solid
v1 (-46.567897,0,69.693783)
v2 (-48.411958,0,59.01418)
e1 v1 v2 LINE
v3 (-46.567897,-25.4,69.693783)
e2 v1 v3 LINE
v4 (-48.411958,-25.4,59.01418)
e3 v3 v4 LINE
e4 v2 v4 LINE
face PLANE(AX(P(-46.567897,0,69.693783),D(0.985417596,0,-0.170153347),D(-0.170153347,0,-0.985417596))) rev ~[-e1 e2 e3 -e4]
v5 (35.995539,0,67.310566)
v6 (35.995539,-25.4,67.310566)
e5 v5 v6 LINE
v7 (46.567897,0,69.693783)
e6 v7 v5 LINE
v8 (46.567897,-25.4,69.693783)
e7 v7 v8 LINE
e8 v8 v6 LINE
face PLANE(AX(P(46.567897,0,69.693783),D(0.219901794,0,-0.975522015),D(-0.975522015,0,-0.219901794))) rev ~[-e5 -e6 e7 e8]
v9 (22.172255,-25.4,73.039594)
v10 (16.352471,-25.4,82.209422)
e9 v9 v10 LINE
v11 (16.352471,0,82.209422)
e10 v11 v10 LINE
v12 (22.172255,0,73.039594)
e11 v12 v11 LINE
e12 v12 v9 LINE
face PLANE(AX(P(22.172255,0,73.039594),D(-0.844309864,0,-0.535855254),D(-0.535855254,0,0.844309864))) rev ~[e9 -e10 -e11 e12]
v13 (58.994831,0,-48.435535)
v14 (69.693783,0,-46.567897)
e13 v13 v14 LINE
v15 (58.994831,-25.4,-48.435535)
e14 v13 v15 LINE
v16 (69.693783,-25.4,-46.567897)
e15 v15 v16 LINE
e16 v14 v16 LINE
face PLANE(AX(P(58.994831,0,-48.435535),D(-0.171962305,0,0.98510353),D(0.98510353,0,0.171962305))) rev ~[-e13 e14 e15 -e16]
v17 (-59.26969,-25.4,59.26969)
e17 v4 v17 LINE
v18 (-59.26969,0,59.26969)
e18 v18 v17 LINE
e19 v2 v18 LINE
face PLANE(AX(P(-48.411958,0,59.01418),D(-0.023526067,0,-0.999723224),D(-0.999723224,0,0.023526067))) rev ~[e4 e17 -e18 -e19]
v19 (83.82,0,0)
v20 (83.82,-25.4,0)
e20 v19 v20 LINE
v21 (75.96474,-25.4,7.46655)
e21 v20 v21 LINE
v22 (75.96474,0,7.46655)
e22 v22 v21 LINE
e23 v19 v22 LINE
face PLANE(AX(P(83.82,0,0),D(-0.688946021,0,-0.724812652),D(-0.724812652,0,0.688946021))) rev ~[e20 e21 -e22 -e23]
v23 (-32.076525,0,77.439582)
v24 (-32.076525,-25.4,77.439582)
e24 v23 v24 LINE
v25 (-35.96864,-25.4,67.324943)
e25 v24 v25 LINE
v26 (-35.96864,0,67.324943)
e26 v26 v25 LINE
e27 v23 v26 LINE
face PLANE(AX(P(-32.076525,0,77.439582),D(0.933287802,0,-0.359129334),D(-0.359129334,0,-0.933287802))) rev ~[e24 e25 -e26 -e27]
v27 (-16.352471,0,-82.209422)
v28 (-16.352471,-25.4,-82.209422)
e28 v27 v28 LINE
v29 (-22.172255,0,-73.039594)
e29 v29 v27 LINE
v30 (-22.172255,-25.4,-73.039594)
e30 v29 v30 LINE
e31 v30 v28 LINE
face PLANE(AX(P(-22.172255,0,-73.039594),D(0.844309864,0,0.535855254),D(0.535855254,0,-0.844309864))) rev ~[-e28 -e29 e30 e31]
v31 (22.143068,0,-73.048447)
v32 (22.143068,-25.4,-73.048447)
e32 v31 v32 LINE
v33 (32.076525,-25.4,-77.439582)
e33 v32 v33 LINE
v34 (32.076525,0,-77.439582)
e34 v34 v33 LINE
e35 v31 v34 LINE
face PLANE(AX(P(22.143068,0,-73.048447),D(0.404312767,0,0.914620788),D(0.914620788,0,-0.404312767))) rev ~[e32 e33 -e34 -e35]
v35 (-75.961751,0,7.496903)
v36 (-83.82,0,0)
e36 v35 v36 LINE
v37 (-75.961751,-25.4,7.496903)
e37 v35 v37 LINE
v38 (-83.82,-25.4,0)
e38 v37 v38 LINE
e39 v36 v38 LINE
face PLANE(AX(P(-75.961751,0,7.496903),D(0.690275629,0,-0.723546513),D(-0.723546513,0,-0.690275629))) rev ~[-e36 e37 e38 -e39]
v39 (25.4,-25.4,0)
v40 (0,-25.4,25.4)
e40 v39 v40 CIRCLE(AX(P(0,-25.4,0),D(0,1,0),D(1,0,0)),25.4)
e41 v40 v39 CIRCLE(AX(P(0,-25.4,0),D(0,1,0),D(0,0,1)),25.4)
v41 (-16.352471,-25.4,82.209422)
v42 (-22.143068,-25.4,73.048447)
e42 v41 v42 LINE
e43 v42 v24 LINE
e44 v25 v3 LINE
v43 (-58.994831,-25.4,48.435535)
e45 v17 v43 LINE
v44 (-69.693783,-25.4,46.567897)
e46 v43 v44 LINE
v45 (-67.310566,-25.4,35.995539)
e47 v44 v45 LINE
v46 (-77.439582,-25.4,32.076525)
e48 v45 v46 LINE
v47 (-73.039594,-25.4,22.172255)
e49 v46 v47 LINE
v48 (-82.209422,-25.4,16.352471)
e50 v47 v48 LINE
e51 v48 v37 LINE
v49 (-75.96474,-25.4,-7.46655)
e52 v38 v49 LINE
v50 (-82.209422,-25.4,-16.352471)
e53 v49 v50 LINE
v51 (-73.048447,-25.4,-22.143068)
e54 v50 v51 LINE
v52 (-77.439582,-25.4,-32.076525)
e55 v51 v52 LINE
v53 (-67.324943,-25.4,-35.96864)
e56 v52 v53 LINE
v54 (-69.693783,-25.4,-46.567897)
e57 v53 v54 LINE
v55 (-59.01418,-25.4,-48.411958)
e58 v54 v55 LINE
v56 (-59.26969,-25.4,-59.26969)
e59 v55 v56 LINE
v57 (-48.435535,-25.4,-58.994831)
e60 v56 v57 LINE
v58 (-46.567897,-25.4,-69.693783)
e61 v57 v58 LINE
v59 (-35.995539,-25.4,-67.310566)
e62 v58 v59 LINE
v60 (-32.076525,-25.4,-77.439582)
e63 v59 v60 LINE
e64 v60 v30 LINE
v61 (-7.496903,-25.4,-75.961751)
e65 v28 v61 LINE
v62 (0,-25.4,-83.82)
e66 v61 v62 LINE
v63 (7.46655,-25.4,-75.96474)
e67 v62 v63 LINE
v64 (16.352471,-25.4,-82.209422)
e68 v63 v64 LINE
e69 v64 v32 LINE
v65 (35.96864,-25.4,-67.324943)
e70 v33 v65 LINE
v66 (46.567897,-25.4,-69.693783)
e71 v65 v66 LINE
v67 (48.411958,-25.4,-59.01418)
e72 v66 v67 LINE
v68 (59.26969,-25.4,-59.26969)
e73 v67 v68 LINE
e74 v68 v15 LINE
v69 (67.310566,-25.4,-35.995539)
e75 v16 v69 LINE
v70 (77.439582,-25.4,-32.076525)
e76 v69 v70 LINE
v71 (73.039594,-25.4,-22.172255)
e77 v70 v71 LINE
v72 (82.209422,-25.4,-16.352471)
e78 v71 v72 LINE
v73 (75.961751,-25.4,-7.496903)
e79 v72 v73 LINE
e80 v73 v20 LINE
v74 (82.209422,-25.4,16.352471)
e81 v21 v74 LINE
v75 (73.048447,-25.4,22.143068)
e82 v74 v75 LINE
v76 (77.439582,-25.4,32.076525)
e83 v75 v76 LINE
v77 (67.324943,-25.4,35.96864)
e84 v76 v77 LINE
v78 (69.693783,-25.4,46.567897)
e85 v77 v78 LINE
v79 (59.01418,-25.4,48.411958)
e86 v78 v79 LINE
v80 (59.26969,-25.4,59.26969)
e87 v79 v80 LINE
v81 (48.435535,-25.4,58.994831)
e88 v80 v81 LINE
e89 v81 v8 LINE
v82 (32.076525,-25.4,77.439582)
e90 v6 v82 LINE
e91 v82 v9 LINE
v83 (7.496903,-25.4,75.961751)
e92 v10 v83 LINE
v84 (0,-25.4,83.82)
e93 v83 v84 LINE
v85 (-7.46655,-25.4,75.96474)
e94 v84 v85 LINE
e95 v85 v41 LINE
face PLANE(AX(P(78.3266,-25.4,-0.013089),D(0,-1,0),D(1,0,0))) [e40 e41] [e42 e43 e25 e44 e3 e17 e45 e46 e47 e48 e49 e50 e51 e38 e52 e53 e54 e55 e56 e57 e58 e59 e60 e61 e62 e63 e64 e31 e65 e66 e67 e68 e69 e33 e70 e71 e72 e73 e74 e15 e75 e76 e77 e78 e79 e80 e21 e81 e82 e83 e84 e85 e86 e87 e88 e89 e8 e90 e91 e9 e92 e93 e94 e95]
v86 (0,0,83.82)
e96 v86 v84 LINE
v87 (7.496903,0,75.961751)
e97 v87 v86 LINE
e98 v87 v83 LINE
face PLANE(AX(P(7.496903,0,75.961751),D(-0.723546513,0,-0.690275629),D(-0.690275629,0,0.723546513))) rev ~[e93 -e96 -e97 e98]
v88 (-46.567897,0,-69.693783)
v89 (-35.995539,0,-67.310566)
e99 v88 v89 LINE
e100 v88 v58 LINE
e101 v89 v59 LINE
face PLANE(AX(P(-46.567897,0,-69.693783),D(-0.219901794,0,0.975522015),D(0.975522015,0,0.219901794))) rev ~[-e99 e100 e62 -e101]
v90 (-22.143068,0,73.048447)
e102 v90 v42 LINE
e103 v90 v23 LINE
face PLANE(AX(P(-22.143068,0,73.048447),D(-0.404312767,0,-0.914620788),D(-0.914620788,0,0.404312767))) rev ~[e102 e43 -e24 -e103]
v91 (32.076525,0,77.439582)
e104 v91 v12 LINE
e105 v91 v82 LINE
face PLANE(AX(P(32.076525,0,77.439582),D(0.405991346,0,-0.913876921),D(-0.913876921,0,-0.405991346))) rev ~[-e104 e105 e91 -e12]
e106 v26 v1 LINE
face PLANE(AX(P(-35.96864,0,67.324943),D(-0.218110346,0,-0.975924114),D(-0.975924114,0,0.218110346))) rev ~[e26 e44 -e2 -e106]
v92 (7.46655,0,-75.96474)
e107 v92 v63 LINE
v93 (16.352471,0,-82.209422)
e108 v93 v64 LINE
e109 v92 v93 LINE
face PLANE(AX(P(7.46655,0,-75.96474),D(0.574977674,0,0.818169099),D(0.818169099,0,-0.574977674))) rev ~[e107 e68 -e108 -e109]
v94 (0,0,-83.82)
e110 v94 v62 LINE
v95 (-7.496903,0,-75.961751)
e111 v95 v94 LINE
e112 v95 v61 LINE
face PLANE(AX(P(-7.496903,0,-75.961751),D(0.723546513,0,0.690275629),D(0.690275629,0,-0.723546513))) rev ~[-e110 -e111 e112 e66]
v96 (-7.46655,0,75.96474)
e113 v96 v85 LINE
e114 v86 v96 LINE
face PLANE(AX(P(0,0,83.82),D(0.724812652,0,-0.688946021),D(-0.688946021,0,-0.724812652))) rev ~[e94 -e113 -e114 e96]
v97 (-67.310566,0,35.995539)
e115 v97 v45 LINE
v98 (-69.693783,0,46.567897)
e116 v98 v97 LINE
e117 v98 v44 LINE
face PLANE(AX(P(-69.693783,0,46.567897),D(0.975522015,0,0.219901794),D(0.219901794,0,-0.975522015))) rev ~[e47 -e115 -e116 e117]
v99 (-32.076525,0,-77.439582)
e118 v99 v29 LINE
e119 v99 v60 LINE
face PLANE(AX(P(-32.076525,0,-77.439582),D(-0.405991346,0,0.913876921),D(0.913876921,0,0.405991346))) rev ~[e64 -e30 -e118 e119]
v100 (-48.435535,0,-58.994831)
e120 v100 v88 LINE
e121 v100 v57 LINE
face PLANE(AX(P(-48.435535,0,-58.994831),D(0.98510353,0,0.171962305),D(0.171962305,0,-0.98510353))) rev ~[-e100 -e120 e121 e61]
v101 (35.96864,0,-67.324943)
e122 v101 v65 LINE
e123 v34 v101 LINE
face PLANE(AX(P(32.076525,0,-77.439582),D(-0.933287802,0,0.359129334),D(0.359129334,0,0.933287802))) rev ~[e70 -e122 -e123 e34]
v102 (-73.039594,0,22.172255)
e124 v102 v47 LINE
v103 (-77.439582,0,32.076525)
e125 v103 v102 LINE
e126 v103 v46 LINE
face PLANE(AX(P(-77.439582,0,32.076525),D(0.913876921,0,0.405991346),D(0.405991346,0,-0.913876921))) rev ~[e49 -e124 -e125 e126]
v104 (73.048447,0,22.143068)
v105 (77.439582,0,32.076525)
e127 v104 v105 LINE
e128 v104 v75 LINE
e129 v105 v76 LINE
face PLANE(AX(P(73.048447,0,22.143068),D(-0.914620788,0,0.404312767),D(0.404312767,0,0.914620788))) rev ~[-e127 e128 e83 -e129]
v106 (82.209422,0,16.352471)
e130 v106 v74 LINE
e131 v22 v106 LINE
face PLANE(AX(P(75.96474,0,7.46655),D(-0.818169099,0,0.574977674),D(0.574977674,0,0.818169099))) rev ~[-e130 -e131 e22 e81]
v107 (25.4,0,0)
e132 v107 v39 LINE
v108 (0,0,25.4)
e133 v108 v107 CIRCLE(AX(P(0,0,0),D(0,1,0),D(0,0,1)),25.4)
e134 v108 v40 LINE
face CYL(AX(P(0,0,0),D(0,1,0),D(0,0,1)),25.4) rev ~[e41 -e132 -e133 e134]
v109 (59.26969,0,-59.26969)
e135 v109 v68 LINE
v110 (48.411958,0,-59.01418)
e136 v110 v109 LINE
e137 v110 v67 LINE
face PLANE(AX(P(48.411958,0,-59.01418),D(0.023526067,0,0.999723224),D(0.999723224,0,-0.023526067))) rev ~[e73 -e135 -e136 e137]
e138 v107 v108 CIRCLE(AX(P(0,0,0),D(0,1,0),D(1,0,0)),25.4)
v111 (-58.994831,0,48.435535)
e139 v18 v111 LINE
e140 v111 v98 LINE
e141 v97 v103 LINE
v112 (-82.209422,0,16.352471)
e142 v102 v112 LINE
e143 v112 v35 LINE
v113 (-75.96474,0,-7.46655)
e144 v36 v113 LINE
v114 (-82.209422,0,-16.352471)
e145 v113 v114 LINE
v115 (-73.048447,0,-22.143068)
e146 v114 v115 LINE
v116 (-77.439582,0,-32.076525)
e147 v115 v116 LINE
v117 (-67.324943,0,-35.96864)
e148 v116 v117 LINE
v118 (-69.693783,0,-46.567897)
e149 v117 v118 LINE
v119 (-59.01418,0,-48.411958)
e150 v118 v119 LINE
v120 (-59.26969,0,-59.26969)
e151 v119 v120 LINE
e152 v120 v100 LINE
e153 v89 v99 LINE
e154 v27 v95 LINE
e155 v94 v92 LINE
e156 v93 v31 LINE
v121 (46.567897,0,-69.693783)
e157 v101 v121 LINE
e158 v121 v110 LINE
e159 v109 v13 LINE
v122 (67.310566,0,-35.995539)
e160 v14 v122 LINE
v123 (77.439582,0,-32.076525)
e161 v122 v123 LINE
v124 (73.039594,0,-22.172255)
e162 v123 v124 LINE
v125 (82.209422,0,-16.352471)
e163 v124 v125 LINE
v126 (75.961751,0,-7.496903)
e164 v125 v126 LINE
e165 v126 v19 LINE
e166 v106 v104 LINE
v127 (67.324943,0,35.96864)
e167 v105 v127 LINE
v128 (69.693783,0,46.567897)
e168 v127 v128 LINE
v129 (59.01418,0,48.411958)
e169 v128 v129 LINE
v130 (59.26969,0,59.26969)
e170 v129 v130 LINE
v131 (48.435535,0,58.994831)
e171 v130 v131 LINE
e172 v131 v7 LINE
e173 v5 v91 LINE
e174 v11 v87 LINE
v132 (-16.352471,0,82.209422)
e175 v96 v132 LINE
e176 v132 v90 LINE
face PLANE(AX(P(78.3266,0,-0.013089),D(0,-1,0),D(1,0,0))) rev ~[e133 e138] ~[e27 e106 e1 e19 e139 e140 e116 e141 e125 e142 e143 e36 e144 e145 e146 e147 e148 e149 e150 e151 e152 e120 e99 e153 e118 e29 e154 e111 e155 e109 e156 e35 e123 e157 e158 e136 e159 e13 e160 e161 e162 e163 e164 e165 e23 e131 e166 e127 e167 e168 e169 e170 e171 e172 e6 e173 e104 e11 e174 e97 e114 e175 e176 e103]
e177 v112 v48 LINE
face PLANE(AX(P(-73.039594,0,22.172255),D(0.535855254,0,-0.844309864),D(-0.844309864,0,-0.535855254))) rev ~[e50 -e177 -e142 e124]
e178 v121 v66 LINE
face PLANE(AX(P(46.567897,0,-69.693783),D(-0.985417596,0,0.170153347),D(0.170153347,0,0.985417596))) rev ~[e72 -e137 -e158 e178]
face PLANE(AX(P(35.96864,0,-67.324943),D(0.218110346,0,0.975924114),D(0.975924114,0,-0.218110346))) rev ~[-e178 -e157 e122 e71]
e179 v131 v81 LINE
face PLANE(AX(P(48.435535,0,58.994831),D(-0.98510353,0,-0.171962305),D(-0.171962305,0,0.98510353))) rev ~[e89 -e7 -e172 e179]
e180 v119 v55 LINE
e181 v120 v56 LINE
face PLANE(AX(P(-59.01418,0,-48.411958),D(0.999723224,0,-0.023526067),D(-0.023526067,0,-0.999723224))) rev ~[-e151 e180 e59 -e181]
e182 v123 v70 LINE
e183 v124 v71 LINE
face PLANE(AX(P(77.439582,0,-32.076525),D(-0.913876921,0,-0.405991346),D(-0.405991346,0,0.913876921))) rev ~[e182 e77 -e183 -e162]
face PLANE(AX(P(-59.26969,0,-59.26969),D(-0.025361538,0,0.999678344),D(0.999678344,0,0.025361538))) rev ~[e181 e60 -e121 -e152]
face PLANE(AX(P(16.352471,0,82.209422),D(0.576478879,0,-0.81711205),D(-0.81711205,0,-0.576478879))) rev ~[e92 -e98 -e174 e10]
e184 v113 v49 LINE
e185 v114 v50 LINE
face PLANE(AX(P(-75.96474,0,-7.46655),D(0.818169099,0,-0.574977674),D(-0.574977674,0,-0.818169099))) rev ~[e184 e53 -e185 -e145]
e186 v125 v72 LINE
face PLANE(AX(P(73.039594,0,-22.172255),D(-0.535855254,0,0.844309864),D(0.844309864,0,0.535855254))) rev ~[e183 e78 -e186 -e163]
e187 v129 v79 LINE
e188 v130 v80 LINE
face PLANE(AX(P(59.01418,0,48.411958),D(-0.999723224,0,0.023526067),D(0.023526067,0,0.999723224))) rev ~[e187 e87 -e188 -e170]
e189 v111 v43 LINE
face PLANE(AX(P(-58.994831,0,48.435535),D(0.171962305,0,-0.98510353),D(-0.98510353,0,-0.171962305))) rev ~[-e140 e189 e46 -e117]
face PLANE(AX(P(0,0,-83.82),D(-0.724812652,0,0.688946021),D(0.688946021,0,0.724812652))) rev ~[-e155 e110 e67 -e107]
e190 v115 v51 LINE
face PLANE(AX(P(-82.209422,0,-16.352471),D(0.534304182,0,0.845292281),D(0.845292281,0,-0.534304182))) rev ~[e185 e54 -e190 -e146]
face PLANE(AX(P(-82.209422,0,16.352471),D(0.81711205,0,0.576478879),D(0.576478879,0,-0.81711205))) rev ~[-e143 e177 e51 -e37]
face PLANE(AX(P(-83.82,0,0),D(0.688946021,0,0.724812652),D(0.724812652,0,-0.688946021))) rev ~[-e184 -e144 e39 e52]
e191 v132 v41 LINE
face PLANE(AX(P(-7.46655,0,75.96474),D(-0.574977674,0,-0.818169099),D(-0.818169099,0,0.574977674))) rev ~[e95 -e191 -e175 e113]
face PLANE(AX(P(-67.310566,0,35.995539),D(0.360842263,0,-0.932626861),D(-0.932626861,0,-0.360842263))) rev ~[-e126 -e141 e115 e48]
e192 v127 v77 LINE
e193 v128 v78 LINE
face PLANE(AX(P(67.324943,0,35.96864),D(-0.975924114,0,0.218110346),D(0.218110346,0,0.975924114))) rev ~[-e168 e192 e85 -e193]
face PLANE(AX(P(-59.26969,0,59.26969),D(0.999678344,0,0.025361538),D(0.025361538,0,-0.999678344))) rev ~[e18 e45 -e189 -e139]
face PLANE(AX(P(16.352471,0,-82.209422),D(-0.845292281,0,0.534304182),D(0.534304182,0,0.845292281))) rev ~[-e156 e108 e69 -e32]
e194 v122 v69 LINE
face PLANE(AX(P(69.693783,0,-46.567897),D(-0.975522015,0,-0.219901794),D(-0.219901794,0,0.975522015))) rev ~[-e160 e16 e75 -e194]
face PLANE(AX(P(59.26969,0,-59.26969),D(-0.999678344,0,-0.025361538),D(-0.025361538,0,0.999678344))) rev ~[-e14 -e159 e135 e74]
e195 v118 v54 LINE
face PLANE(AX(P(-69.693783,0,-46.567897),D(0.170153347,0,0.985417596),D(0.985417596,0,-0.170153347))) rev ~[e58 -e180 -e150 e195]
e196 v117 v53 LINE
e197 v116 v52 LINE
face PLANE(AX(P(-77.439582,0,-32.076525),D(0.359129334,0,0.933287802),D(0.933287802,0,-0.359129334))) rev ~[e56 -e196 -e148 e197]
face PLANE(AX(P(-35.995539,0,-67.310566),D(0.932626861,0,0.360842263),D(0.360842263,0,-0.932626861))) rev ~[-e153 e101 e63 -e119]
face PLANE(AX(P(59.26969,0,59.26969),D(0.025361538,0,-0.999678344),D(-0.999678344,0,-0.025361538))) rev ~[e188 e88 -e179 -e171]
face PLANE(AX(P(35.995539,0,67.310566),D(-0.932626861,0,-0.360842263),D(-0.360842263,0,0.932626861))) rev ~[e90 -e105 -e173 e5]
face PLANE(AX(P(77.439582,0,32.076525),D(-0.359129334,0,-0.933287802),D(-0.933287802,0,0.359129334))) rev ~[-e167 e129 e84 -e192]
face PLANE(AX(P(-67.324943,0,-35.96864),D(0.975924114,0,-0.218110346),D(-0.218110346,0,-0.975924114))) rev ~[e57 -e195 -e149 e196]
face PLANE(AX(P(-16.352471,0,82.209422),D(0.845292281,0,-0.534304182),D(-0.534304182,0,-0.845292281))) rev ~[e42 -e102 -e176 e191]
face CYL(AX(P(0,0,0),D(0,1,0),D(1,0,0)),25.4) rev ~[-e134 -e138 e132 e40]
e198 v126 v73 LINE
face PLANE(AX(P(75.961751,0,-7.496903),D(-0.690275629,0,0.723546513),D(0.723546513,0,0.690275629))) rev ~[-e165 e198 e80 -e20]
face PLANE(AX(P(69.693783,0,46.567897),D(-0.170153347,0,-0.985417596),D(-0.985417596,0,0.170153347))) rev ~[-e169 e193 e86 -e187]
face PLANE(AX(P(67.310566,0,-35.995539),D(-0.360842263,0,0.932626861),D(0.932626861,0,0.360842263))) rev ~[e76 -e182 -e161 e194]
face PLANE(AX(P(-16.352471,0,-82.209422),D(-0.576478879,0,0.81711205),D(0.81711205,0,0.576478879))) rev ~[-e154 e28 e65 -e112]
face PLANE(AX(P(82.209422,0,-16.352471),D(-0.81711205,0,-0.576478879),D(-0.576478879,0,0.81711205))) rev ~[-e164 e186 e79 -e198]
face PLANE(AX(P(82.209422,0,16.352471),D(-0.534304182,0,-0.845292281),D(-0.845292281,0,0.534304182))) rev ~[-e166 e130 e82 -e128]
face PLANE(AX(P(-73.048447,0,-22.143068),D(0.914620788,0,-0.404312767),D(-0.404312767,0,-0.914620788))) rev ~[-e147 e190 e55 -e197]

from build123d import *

# Parameters (mm, degrees)
F1_DEPTH = 25.4
F2_DEPTH = 25.4


with BuildPart() as f1:
    # F0 (on Front) → F1 (new body)
    with BuildSketch(Plane.XZ):
        with BuildLine():
            ThreePointArc((75.8463119216, -7.333278114), (76.1115266186, -3.6709012229), (76.2, 0))
            ThreePointArc((76.2, 0), (76.1122749967, 3.6553515317), (75.8493019732, 7.3022866401))
            ThreePointArc((75.8493019732, 7.3022866401), (75.8346004903, 7.4534132101), (75.8195978942, 7.6045101852))
            ThreePointArc((75.8195978942, 7.6045101852), (74.7388739127, 14.8506136664), (72.9672734521, 21.9594399966))
            ThreePointArc((72.9672734521, 21.9594399966), (72.9233711228, 22.1047945949), (72.87917924, 22.2500614226))
            ThreePointArc((72.87917924, 22.2500614226), (70.4055764051, 29.1460942677), (67.2811535328, 35.7727043889))
            ThreePointArc((67.2811535328, 35.7727043889), (67.209737499, 35.9067011198), (67.1380545986, 36.0405552776))
            ThreePointArc((67.1380545986, 36.0405552776), (63.3666320803, 42.3215068116), (59.0094566149, 48.2112438132))
            ThreePointArc((59.0094566149, 48.2112438132), (58.9132713548, 48.3287332575), (58.8168521705, 48.446030805))
            ThreePointArc((58.8168521705, 48.446030805), (53.892543621, 53.8705275829), (48.4700593721, 58.7970521749))
            ThreePointArc((48.4700593721, 58.7970521749), (48.3528012314, 58.8935192791), (48.2353510983, 58.9897525374))
            ThreePointArc((48.2353510983, 58.9897525374), (42.3473949336, 63.3493341902), (36.0679849301, 67.1233227953))
            ThreePointArc((36.0679849301, 67.1233227953), (35.9341600732, 67.1950603827), (35.8001925341, 67.2665311616))
            ThreePointArc((35.8001925341, 67.2665311616), (29.1748596076, 70.3936614112), (22.2798380543, 72.8700817639))
            ThreePointArc((22.2798380543, 72.8700817639), (22.1345892955, 72.9143329992), (21.9892526478, 72.9582947168))
            ThreePointArc((21.9892526478, 72.9582947168), (14.8811507884, 74.7327997014), (7.6354894968, 75.8164843563))
            ThreePointArc((7.6354894968, 75.8164843563), (7.4843986644, 75.8315486894), (7.333278114, 75.8463119216))
            ThreePointArc((7.333278114, 75.8463119216), (3.6709012229, 76.1115266186), (0, 76.2))
            ThreePointArc((0, 76.2), (-3.6553515317, 76.1122749967), (-7.3022866401, 75.8493019732))
            ThreePointArc((-7.3022866401, 75.8493019732), (-7.4534132101, 75.8346004903), (-7.6045101852, 75.8195978942))
            ThreePointArc((-7.6045101852, 75.8195978942), (-14.8506136664, 74.7388739127), (-21.9594399966, 72.9672734521))
            ThreePointArc((-21.9594399966, 72.9672734521), (-22.1047945949, 72.9233711228), (-22.2500614226, 72.87917924))
            ThreePointArc((-22.2500614226, 72.87917924), (-29.1460942677, 70.4055764051), (-35.7727043889, 67.2811535328))
            ThreePointArc((-35.7727043889, 67.2811535328), (-35.9067011198, 67.209737499), (-36.0405552776, 67.1380545986))
            ThreePointArc((-36.0405552776, 67.1380545986), (-42.3215068116, 63.3666320803), (-48.2112438132, 59.0094566149))
            ThreePointArc((-48.2112438132, 59.0094566149), (-48.3287332575, 58.9132713548), (-48.446030805, 58.8168521705))
            ThreePointArc((-48.446030805, 58.8168521705), (-53.8705275829, 53.892543621), (-58.7970521749, 48.4700593721))
            ThreePointArc((-58.7970521749, 48.4700593721), (-58.8935192791, 48.3528012314), (-58.9897525374, 48.2353510983))
            ThreePointArc((-58.9897525374, 48.2353510983), (-63.3493341902, 42.3473949336), (-67.1233227953, 36.0679849301))
            ThreePointArc((-67.1233227953, 36.0679849301), (-67.1950603827, 35.9341600732), (-67.2665311616, 35.8001925341))
            ThreePointArc((-67.2665311616, 35.8001925341), (-70.3936614112, 29.1748596076), (-72.8700817639, 22.2798380543))
            ThreePointArc((-72.8700817639, 22.2798380543), (-72.9143329992, 22.1345892955), (-72.9582947168, 21.9892526478))
            ThreePointArc((-72.9582947168, 21.9892526478), (-74.7327997014, 14.8811507884), (-75.8164843563, 7.6354894968))
            ThreePointArc((-75.8164843563, 7.6354894968), (-75.8315486894, 7.4843986644), (-75.8463119216, 7.333278114))
            ThreePointArc((-75.8463119216, 7.333278114), (-76.1999984098, 0.0155676898), (-75.8493019732, -7.3022866401))
            ThreePointArc((-75.8493019732, -7.3022866401), (-75.8346004903, -7.4534132101), (-75.8195978942, -7.6045101852))
            ThreePointArc((-75.8195978942, -7.6045101852), (-74.7388739127, -14.8506136664), (-72.9672734521, -21.9594399966))
            ThreePointArc((-72.9672734521, -21.9594399966), (-72.9233711228, -22.1047945949), (-72.87917924, -22.2500614226))
            ThreePointArc((-72.87917924, -22.2500614226), (-70.4055764051, -29.1460942677), (-67.2811535328, -35.7727043889))
            ThreePointArc((-67.2811535328, -35.7727043889), (-67.209737499, -35.9067011198), (-67.1380545986, -36.0405552776))
            ThreePointArc((-67.1380545986, -36.0405552776), (-63.3666320803, -42.3215068116), (-59.0094566149, -48.2112438132))
            ThreePointArc((-59.0094566149, -48.2112438132), (-58.9132713548, -48.3287332575), (-58.8168521705, -48.446030805))
            ThreePointArc((-58.8168521705, -48.446030805), (-53.892543621, -53.8705275829), (-48.4700593721, -58.7970521749))
            ThreePointArc((-48.4700593721, -58.7970521749), (-48.3528012314, -58.8935192791), (-48.2353510983, -58.9897525374))
            ThreePointArc((-48.2353510983, -58.9897525374), (-42.3473949336, -63.3493341902), (-36.0679849301, -67.1233227953))
            ThreePointArc((-36.0679849301, -67.1233227953), (-35.9341600732, -67.1950603827), (-35.8001925341, -67.2665311616))
            ThreePointArc((-35.8001925341, -67.2665311616), (-29.1748596076, -70.3936614112), (-22.2798380543, -72.8700817639))
            ThreePointArc((-22.2798380543, -72.8700817639), (-22.1345892955, -72.9143329992), (-21.9892526478, -72.9582947168))
            ThreePointArc((-21.9892526478, -72.9582947168), (-14.8811507884, -74.7327997014), (-7.6354894968, -75.8164843563))
            ThreePointArc((-7.6354894968, -75.8164843563), (-7.4843986644, -75.8315486894), (-7.333278114, -75.8463119216))
            ThreePointArc((-7.333278114, -75.8463119216), (-0.0155676898, -76.1999984098), (7.3022866401, -75.8493019732))
            ThreePointArc((7.3022866401, -75.8493019732), (7.4534132101, -75.8346004903), (7.6045101852, -75.8195978942))
            ThreePointArc((7.6045101852, -75.8195978942), (14.8506136664, -74.7388739127), (21.9594399966, -72.9672734521))
            ThreePointArc((21.9594399966, -72.9672734521), (22.1047945949, -72.9233711228), (22.2500614226, -72.87917924))
            ThreePointArc((22.2500614226, -72.87917924), (29.1460942677, -70.4055764051), (35.7727043889, -67.2811535328))
            ThreePointArc((35.7727043889, -67.2811535328), (35.9067011198, -67.209737499), (36.0405552776, -67.1380545986))
            ThreePointArc((36.0405552776, -67.1380545986), (42.3215068116, -63.3666320803), (48.2112438132, -59.0094566149))
            ThreePointArc((48.2112438132, -59.0094566149), (48.3287332575, -58.9132713548), (48.446030805, -58.8168521705))
            ThreePointArc((48.446030805, -58.8168521705), (53.8705275829, -53.892543621), (58.7970521749, -48.4700593721))
            ThreePointArc((58.7970521749, -48.4700593721), (58.8935192791, -48.3528012314), (58.9897525374, -48.2353510983))
            ThreePointArc((58.9897525374, -48.2353510983), (63.3493341902, -42.3473949336), (67.1233227953, -36.0679849301))
            ThreePointArc((67.1233227953, -36.0679849301), (67.1950603827, -35.9341600732), (67.2665311616, -35.8001925341))
            ThreePointArc((67.2665311616, -35.8001925341), (70.3936614112, -29.1748596076), (72.8700817639, -22.2798380543))
            ThreePointArc((72.8700817639, -22.2798380543), (72.9143329992, -22.1345892955), (72.9582947168, -21.9892526478))
            ThreePointArc((72.9582947168, -21.9892526478), (74.7327997014, -14.8811507884), (75.8164843563, -7.6354894968))
            ThreePointArc((75.8164843563, -7.6354894968), (75.8315486894, -7.4843986644), (75.8463119216, -7.333278114))
        make_face()
        with BuildLine():
            ThreePointArc((25.4, 0), (-17.9605122421, -17.9605122421), (0, 25.4))
            ThreePointArc((0, 25.4), (17.9605122421, 17.9605122421), (25.4, 0))
        make_face(mode=Mode.SUBTRACT)
    extrude(amount=F1_DEPTH)

    # F0 (on Front) → F2 (join)
    with BuildSketch(Plane.XZ):
        with BuildLine():
            ThreePointArc((75.8493019732, 7.3022866401), (76.1122749967, 3.6553515317), (76.2, 0))
            ThreePointArc((76.2, 0), (76.1115266186, -3.6709012229), (75.8463119216, -7.333278114))
            Line((75.8463119216, -7.333278114), (75.9617505843, -7.4969030545))
            Line((75.9617505843, -7.4969030545), (83.82, 0))
            Line((83.82, 0), (75.9647400778, 7.4665502179))
            Line((75.9647400778, 7.4665502179), (75.8493019732, 7.3022866401))
        make_face()
        with BuildLine():
            ThreePointArc((75.8195978942, 7.6045101852), (75.8346004903, 7.4534132101), (75.8493019732, 7.3022866401))
            Line((75.8493019732, 7.3022866401), (75.9647400778, 7.4665502179))
            Line((75.9647400778, 7.4665502179), (75.8195978942, 7.6045101852))
        make_face()
        with BuildLine():
            Line((75.9617505843, -7.4969030545), (75.8463119216, -7.333278114))
            ThreePointArc((75.8463119216, -7.333278114), (75.8315486894, -7.4843986644), (75.8164843563, -7.6354894968))
            Line((75.8164843563, -7.6354894968), (75.9617505843, -7.4969030545))
        make_face()
        with BuildLine():
            ThreePointArc((72.9672734521, 21.9594399966), (74.7388739127, 14.8506136664), (75.8195978942, 7.6045101852))
            Line((75.8195978942, 7.6045101852), (75.9647400778, 7.4665502179))
            Line((75.9647400778, 7.4665502179), (82.2094222034, 16.3524707914))
            Line((82.2094222034, 16.3524707914), (73.0484472116, 22.1430681527))
            Line((73.0484472116, 22.1430681527), (72.9672734521, 21.9594399966))
        make_face()
        with BuildLine():
            Line((75.9617505843, -7.4969030545), (75.8164843563, -7.6354894968))
            ThreePointArc((75.8164843563, -7.6354894968), (74.7327997014, -14.8811507884), (72.9582947168, -21.9892526478))
            Line((72.9582947168, -21.9892526478), (73.0395936157, -22.1722545469))
            Line((73.0395936157, -22.1722545469), (82.2094222034, -16.3524707914))
            Line((82.2094222034, -16.3524707914), (75.9617505843, -7.4969030545))
        make_face()
        with BuildLine():
            ThreePointArc((72.87917924, 22.2500614226), (72.9233711228, 22.1047945949), (72.9672734521, 21.9594399966))
            Line((72.9672734521, 21.9594399966), (73.0484472116, 22.1430681527))
            Line((73.0484472116, 22.1430681527), (72.87917924, 22.2500614226))
        make_face()
        with BuildLine():
            Line((73.0395936157, -22.1722545469), (72.9582947168, -21.9892526478))
            ThreePointArc((72.9582947168, -21.9892526478), (72.9143329992, -22.1345892955), (72.8700817639, -22.2798380543))
            Line((72.8700817639, -22.2798380543), (73.0395936157, -22.1722545469))
        make_face()
        with BuildLine():
            ThreePointArc((67.2811535328, 35.7727043889), (70.4055764051, 29.1460942677), (72.87917924, 22.2500614226))
            Line((72.87917924, 22.2500614226), (73.0484472116, 22.1430681527))
            Line((73.0484472116, 22.1430681527), (77.4395824151, 32.0765253008))
            Line((77.4395824151, 32.0765253008), (67.3249434851, 35.9686403965))
            Line((67.3249434851, 35.9686403965), (67.2811535328, 35.7727043889))
        make_face()
        with BuildLine():
            Line((73.0395936157, -22.1722545469), (72.8700817639, -22.2798380543))
            ThreePointArc((72.8700817639, -22.2798380543), (70.3936614112, -29.1748596076), (67.2665311616, -35.8001925341))
            Line((67.2665311616, -35.8001925341), (67.3105660255, -35.9955387314))
            Line((67.3105660255, -35.9955387314), (77.4395824151, -32.0765253008))
            Line((77.4395824151, -32.0765253008), (73.0395936157, -22.1722545469))
        make_face()
        with BuildLine():
            ThreePointArc((67.1380545986, 36.0405552776), (67.209737499, 35.9067011198), (67.2811535328, 35.7727043889))
            Line((67.2811535328, 35.7727043889), (67.3249434851, 35.9686403965))
            Line((67.3249434851, 35.9686403965), (67.1380545986, 36.0405552776))
        make_face()
        with BuildLine():
            Line((67.3105660255, -35.9955387314), (67.2665311616, -35.8001925341))
            ThreePointArc((67.2665311616, -35.8001925341), (67.1950603827, -35.9341600732), (67.1233227953, -36.0679849301))
            Line((67.1233227953, -36.0679849301), (67.3105660255, -35.9955387314))
        make_face()
        with BuildLine():
            ThreePointArc((59.0094566149, 48.2112438132), (63.3666320803, 42.3215068116), (67.1380545986, 36.0405552776))
            Line((67.1380545986, 36.0405552776), (67.3249434851, 35.9686403965))
            Line((67.3249434851, 35.9686403965), (69.6937829032, 46.5678969317))
            Line((69.6937829032, 46.5678969317), (59.0141799367, 48.4119579612))
            Line((59.0141799367, 48.4119579612), (59.0094566149, 48.2112438132))
        make_face()
        with BuildLine():
            Line((67.3105660255, -35.9955387314), (67.1233227953, -36.0679849301))
            ThreePointArc((67.1233227953, -36.0679849301), (63.3493341902, -42.3473949336), (58.9897525374, -48.2353510983))
            Line((58.9897525374, -48.2353510983), (58.9948311312, -48.4355345489))
            Line((58.9948311312, -48.4355345489), (69.6937829032, -46.5678969317))
            Line((69.6937829032, -46.5678969317), (67.3105660255, -35.9955387314))
        make_face()
        with BuildLine():
            ThreePointArc((58.8168521705, 48.446030805), (58.9132713548, 48.3287332575), (59.0094566149, 48.2112438132))
            Line((59.0094566149, 48.2112438132), (59.0141799367, 48.4119579612))
            Line((59.0141799367, 48.4119579612), (58.8168521705, 48.446030805))
        make_face()
        with BuildLine():
            Line((58.9948311312, -48.4355345489), (58.9897525374, -48.2353510983))
            ThreePointArc((58.9897525374, -48.2353510983), (58.8935192791, -48.3528012314), (58.7970521749, -48.4700593721))
            Line((58.7970521749, -48.4700593721), (58.9948311312, -48.4355345489))
        make_face()
        with BuildLine():
            ThreePointArc((48.4700593721, 58.7970521749), (53.892543621, 53.8705275829), (58.8168521705, 48.446030805))
            Line((58.8168521705, 48.446030805), (59.0141799367, 48.4119579612))
            Line((59.0141799367, 48.4119579612), (59.2696903991, 59.2696903991))
            Line((59.2696903991, 59.2696903991), (48.4355345489, 58.9948311312))
            Line((48.4355345489, 58.9948311312), (48.4700593721, 58.7970521749))
        make_face()
        with BuildLine():
            Line((58.9948311312, -48.4355345489), (58.7970521749, -48.4700593721))
            ThreePointArc((58.7970521749, -48.4700593721), (53.8705275829, -53.892543621), (48.446030805, -58.8168521705))
            Line((48.446030805, -58.8168521705), (48.4119579612, -59.0141799367))
            Line((48.4119579612, -59.0141799367), (59.2696903991, -59.2696903991))
            Line((59.2696903991, -59.2696903991), (58.9948311312, -48.4355345489))
        make_face()
        with BuildLine():
            ThreePointArc((48.2353510983, 58.9897525374), (48.3528012314, 58.8935192791), (48.4700593721, 58.7970521749))
            Line((48.4700593721, 58.7970521749), (48.4355345489, 58.9948311312))
            Line((48.4355345489, 58.9948311312), (48.2353510983, 58.9897525374))
        make_face()
        with BuildLine():
            Line((48.4119579612, -59.0141799367), (48.446030805, -58.8168521705))
            ThreePointArc((48.446030805, -58.8168521705), (48.3287332575, -58.9132713548), (48.2112438132, -59.0094566149))
            Line((48.2112438132, -59.0094566149), (48.4119579612, -59.0141799367))
        make_face()
        with BuildLine():
            ThreePointArc((36.0679849301, 67.1233227953), (42.3473949336, 63.3493341902), (48.2353510983, 58.9897525374))
            Line((48.2353510983, 58.9897525374), (48.4355345489, 58.9948311312))
            Line((48.4355345489, 58.9948311312), (46.5678969317, 69.6937829032))
            Line((46.5678969317, 69.6937829032), (35.9955387314, 67.3105660255))
            Line((35.9955387314, 67.3105660255), (36.0679849301, 67.1233227953))
        make_face()
        with BuildLine():
            Line((48.4119579612, -59.0141799367), (48.2112438132, -59.0094566149))
            ThreePointArc((48.2112438132, -59.0094566149), (42.3215068116, -63.3666320803), (36.0405552776, -67.1380545986))
            Line((36.0405552776, -67.1380545986), (35.9686403965, -67.3249434851))
            Line((35.9686403965, -67.3249434851), (46.5678969317, -69.6937829032))
            Line((46.5678969317, -69.6937829032), (48.4119579612, -59.0141799367))
        make_face()
        with BuildLine():
            ThreePointArc((35.8001925341, 67.2665311616), (35.9341600732, 67.1950603827), (36.0679849301, 67.1233227953))
            Line((36.0679849301, 67.1233227953), (35.9955387314, 67.3105660255))
            Line((35.9955387314, 67.3105660255), (35.8001925341, 67.2665311616))
        make_face()
        with BuildLine():
            Line((35.9686403965, -67.3249434851), (36.0405552776, -67.1380545986))
            ThreePointArc((36.0405552776, -67.1380545986), (35.9067011198, -67.209737499), (35.7727043889, -67.2811535328))
            Line((35.7727043889, -67.2811535328), (35.9686403965, -67.3249434851))
        make_face()
        with BuildLine():
            ThreePointArc((22.2798380543, 72.8700817639), (29.1748596076, 70.3936614112), (35.8001925341, 67.2665311616))
            Line((35.8001925341, 67.2665311616), (35.9955387314, 67.3105660255))
            Line((35.9955387314, 67.3105660255), (32.0765253008, 77.4395824151))
            Line((32.0765253008, 77.4395824151), (22.1722545469, 73.0395936157))
            Line((22.1722545469, 73.0395936157), (22.2798380543, 72.8700817639))
        make_face()
        with BuildLine():
            Line((35.9686403965, -67.3249434851), (35.7727043889, -67.2811535328))
            ThreePointArc((35.7727043889, -67.2811535328), (29.1460942677, -70.4055764051), (22.2500614226, -72.87917924))
            Line((22.2500614226, -72.87917924), (22.1430681527, -73.0484472116))
            Line((22.1430681527, -73.0484472116), (32.0765253008, -77.4395824151))
            Line((32.0765253008, -77.4395824151), (35.9686403965, -67.3249434851))
        make_face()
        with BuildLine():
            ThreePointArc((21.9892526478, 72.9582947168), (22.1345892955, 72.9143329992), (22.2798380543, 72.8700817639))
            Line((22.2798380543, 72.8700817639), (22.1722545469, 73.0395936157))
            Line((22.1722545469, 73.0395936157), (21.9892526478, 72.9582947168))
        make_face()
        with BuildLine():
            Line((22.1430681527, -73.0484472116), (22.2500614226, -72.87917924))
            ThreePointArc((22.2500614226, -72.87917924), (22.1047945949, -72.9233711228), (21.9594399966, -72.9672734521))
            Line((21.9594399966, -72.9672734521), (22.1430681527, -73.0484472116))
        make_face()
        with BuildLine():
            ThreePointArc((7.6354894968, 75.8164843563), (14.8811507884, 74.7327997014), (21.9892526478, 72.9582947168))
            Line((21.9892526478, 72.9582947168), (22.1722545469, 73.0395936157))
            Line((22.1722545469, 73.0395936157), (16.3524707914, 82.2094222034))
            Line((16.3524707914, 82.2094222034), (7.4969030545, 75.9617505843))
            Line((7.4969030545, 75.9617505843), (7.6354894968, 75.8164843563))
        make_face()
        with BuildLine():
            Line((22.1430681527, -73.0484472116), (21.9594399966, -72.9672734521))
            ThreePointArc((21.9594399966, -72.9672734521), (14.8506136664, -74.7388739127), (7.6045101852, -75.8195978942))
            Line((7.6045101852, -75.8195978942), (7.4665502179, -75.9647400778))
            Line((7.4665502179, -75.9647400778), (16.3524707914, -82.2094222034))
            Line((16.3524707914, -82.2094222034), (22.1430681527, -73.0484472116))
        make_face()
        with BuildLine():
            ThreePointArc((7.333278114, 75.8463119216), (7.4843986644, 75.8315486894), (7.6354894968, 75.8164843563))
            Line((7.6354894968, 75.8164843563), (7.4969030545, 75.9617505843))
            Line((7.4969030545, 75.9617505843), (7.333278114, 75.8463119216))
        make_face()
        with BuildLine():
            Line((7.4665502179, -75.9647400778), (7.6045101852, -75.8195978942))
            ThreePointArc((7.6045101852, -75.8195978942), (7.4534132101, -75.8346004903), (7.3022866401, -75.8493019732))
            Line((7.3022866401, -75.8493019732), (7.4665502179, -75.9647400778))
        make_face()
        with BuildLine():
            ThreePointArc((0, 76.2), (3.6709012229, 76.1115266186), (7.333278114, 75.8463119216))
            Line((7.333278114, 75.8463119216), (7.4969030545, 75.9617505843))
            Line((7.4969030545, 75.9617505843), (0, 83.82))
            Line((0, 83.82), (0, 76.2))
        make_face()
        with BuildLine():
            Line((7.4665502179, -75.9647400778), (7.3022866401, -75.8493019732))
            ThreePointArc((7.3022866401, -75.8493019732), (-0.0155676898, -76.1999984098), (-7.333278114, -75.8463119216))
            Line((-7.333278114, -75.8463119216), (-7.4969030545, -75.9617505843))
            Line((-7.4969030545, -75.9617505843), (0, -83.82))
            Line((0, -83.82), (7.4665502179, -75.9647400778))
        make_face()
        with BuildLine():
            ThreePointArc((-7.3022866401, 75.8493019732), (-3.6553515317, 76.1122749967), (0, 76.2))
            Line((0, 76.2), (0, 83.82))
            Line((0, 83.82), (-7.4665502179, 75.9647400778))
            Line((-7.4665502179, 75.9647400778), (-7.3022866401, 75.8493019732))
        make_face()
        with BuildLine():
            Line((-7.4969030545, -75.9617505843), (-7.333278114, -75.8463119216))
            ThreePointArc((-7.333278114, -75.8463119216), (-7.4843986644, -75.8315486894), (-7.6354894968, -75.8164843563))
            Line((-7.6354894968, -75.8164843563), (-7.4969030545, -75.9617505843))
        make_face()
        with BuildLine():
            ThreePointArc((-7.6045101852, 75.8195978942), (-7.4534132101, 75.8346004903), (-7.3022866401, 75.8493019732))
            Line((-7.3022866401, 75.8493019732), (-7.4665502179, 75.9647400778))
            Line((-7.4665502179, 75.9647400778), (-7.6045101852, 75.8195978942))
        make_face()
        with BuildLine():
            Line((-7.6045101852, 75.8195978942), (-7.4665502179, 75.9647400778))
            Line((-7.4665502179, 75.9647400778), (-16.3524707914, 82.2094222034))
            Line((-16.3524707914, 82.2094222034), (-22.1430681527, 73.0484472116))
            Line((-22.1430681527, 73.0484472116), (-21.9594399966, 72.9672734521))
            ThreePointArc((-21.9594399966, 72.9672734521), (-14.8506136664, 74.7388739127), (-7.6045101852, 75.8195978942))
        make_face()
        with BuildLine():
            Line((-7.4969030545, -75.9617505843), (-7.6354894968, -75.8164843563))
            ThreePointArc((-7.6354894968, -75.8164843563), (-14.8811507884, -74.7327997014), (-21.9892526478, -72.9582947168))
            Line((-21.9892526478, -72.9582947168), (-22.1722545469, -73.0395936157))
            Line((-22.1722545469, -73.0395936157), (-16.3524707914, -82.2094222034))
            Line((-16.3524707914, -82.2094222034), (-7.4969030545, -75.9617505843))
        make_face()
        with BuildLine():
            Line((-22.1722545469, -73.0395936157), (-21.9892526478, -72.9582947168))
            ThreePointArc((-21.9892526478, -72.9582947168), (-22.1345892955, -72.9143329992), (-22.2798380543, -72.8700817639))
            Line((-22.2798380543, -72.8700817639), (-22.1722545469, -73.0395936157))
        make_face()
        with BuildLine():
            ThreePointArc((-22.2500614226, 72.87917924), (-22.1047945949, 72.9233711228), (-21.9594399966, 72.9672734521))
            Line((-21.9594399966, 72.9672734521), (-22.1430681527, 73.0484472116))
            Line((-22.1430681527, 73.0484472116), (-22.2500614226, 72.87917924))
        make_face()
        with BuildLine():
            Line((-22.2500614226, 72.87917924), (-22.1430681527, 73.0484472116))
            Line((-22.1430681527, 73.0484472116), (-32.0765253008, 77.4395824151))
            Line((-32.0765253008, 77.4395824151), (-35.9686403965, 67.3249434851))
            Line((-35.9686403965, 67.3249434851), (-35.7727043889, 67.2811535328))
            ThreePointArc((-35.7727043889, 67.2811535328), (-29.1460942677, 70.4055764051), (-22.2500614226, 72.87917924))
        make_face()
        with BuildLine():
            Line((-22.1722545469, -73.0395936157), (-22.2798380543, -72.8700817639))
            ThreePointArc((-22.2798380543, -72.8700817639), (-29.1748596076, -70.3936614112), (-35.8001925341, -67.2665311616))
            Line((-35.8001925341, -67.2665311616), (-35.9955387314, -67.3105660255))
            Line((-35.9955387314, -67.3105660255), (-32.0765253008, -77.4395824151))
            Line((-32.0765253008, -77.4395824151), (-22.1722545469, -73.0395936157))
        make_face()
        with BuildLine():
            Line((-35.9955387314, -67.3105660255), (-35.8001925341, -67.2665311616))
            ThreePointArc((-35.8001925341, -67.2665311616), (-35.9341600732, -67.1950603827), (-36.0679849301, -67.1233227953))
            Line((-36.0679849301, -67.1233227953), (-35.9955387314, -67.3105660255))
        make_face()
        with BuildLine():
            ThreePointArc((-36.0405552776, 67.1380545986), (-35.9067011198, 67.209737499), (-35.7727043889, 67.2811535328))
            Line((-35.7727043889, 67.2811535328), (-35.9686403965, 67.3249434851))
            Line((-35.9686403965, 67.3249434851), (-36.0405552776, 67.1380545986))
        make_face()
        with BuildLine():
            Line((-36.0405552776, 67.1380545986), (-35.9686403965, 67.3249434851))
            Line((-35.9686403965, 67.3249434851), (-46.5678969317, 69.6937829032))
            Line((-46.5678969317, 69.6937829032), (-48.4119579612, 59.0141799367))
            Line((-48.4119579612, 59.0141799367), (-48.2112438132, 59.0094566149))
            ThreePointArc((-48.2112438132, 59.0094566149), (-42.3215068116, 63.3666320803), (-36.0405552776, 67.1380545986))
        make_face()
        with BuildLine():
            Line((-35.9955387314, -67.3105660255), (-36.0679849301, -67.1233227953))
            ThreePointArc((-36.0679849301, -67.1233227953), (-42.3473949336, -63.3493341902), (-48.2353510983, -58.9897525374))
            Line((-48.2353510983, -58.9897525374), (-48.4355345489, -58.9948311312))
            Line((-48.4355345489, -58.9948311312), (-46.5678969317, -69.6937829032))
            Line((-46.5678969317, -69.6937829032), (-35.9955387314, -67.3105660255))
        make_face()
        with BuildLine():
            Line((-48.4355345489, -58.9948311312), (-48.2353510983, -58.9897525374))
            ThreePointArc((-48.2353510983, -58.9897525374), (-48.3528012314, -58.8935192791), (-48.4700593721, -58.7970521749))
            Line((-48.4700593721, -58.7970521749), (-48.4355345489, -58.9948311312))
        make_face()
        with BuildLine():
            ThreePointArc((-48.446030805, 58.8168521705), (-48.3287332575, 58.9132713548), (-48.2112438132, 59.0094566149))
            Line((-48.2112438132, 59.0094566149), (-48.4119579612, 59.0141799367))
            Line((-48.4119579612, 59.0141799367), (-48.446030805, 58.8168521705))
        make_face()
        with BuildLine():
            Line((-48.446030805, 58.8168521705), (-48.4119579612, 59.0141799367))
            Line((-48.4119579612, 59.0141799367), (-59.2696903991, 59.2696903991))
            Line((-59.2696903991, 59.2696903991), (-58.9948311312, 48.4355345489))
            Line((-58.9948311312, 48.4355345489), (-58.7970521749, 48.4700593721))
            ThreePointArc((-58.7970521749, 48.4700593721), (-53.8705275829, 53.892543621), (-48.446030805, 58.8168521705))
        make_face()
        with BuildLine():
            Line((-48.4355345489, -58.9948311312), (-48.4700593721, -58.7970521749))
            ThreePointArc((-48.4700593721, -58.7970521749), (-53.892543621, -53.8705275829), (-58.8168521705, -48.446030805))
            Line((-58.8168521705, -48.446030805), (-59.0141799367, -48.4119579612))
            Line((-59.0141799367, -48.4119579612), (-59.2696903991, -59.2696903991))
            Line((-59.2696903991, -59.2696903991), (-48.4355345489, -58.9948311312))
        make_face()
        with BuildLine():
            Line((-59.0141799367, -48.4119579612), (-58.8168521705, -48.446030805))
            ThreePointArc((-58.8168521705, -48.446030805), (-58.9132713548, -48.3287332575), (-59.0094566149, -48.2112438132))
            Line((-59.0094566149, -48.2112438132), (-59.0141799367, -48.4119579612))
        make_face()
        with BuildLine():
            ThreePointArc((-58.9897525374, 48.2353510983), (-58.8935192791, 48.3528012314), (-58.7970521749, 48.4700593721))
            Line((-58.7970521749, 48.4700593721), (-58.9948311312, 48.4355345489))
            Line((-58.9948311312, 48.4355345489), (-58.9897525374, 48.2353510983))
        make_face()
        with BuildLine():
            Line((-58.9897525374, 48.2353510983), (-58.9948311312, 48.4355345489))
            Line((-58.9948311312, 48.4355345489), (-69.6937829032, 46.5678969317))
            Line((-69.6937829032, 46.5678969317), (-67.3105660255, 35.9955387314))
            Line((-67.3105660255, 35.9955387314), (-67.1233227953, 36.0679849301))
            ThreePointArc((-67.1233227953, 36.0679849301), (-63.3493341902, 42.3473949336), (-58.9897525374, 48.2353510983))
        make_face()
        with BuildLine():
            Line((-59.0141799367, -48.4119579612), (-59.0094566149, -48.2112438132))
            ThreePointArc((-59.0094566149, -48.2112438132), (-63.3666320803, -42.3215068116), (-67.1380545986, -36.0405552776))
            Line((-67.1380545986, -36.0405552776), (-67.3249434851, -35.9686403965))
            Line((-67.3249434851, -35.9686403965), (-69.6937829032, -46.5678969317))
            Line((-69.6937829032, -46.5678969317), (-59.0141799367, -48.4119579612))
        make_face()
        with BuildLine():
            Line((-67.3249434851, -35.9686403965), (-67.1380545986, -36.0405552776))
            ThreePointArc((-67.1380545986, -36.0405552776), (-67.209737499, -35.9067011198), (-67.2811535328, -35.7727043889))
            Line((-67.2811535328, -35.7727043889), (-67.3249434851, -35.9686403965))
        make_face()
        with BuildLine():
            ThreePointArc((-67.2665311616, 35.8001925341), (-67.1950603827, 35.9341600732), (-67.1233227953, 36.0679849301))
            Line((-67.1233227953, 36.0679849301), (-67.3105660255, 35.9955387314))
            Line((-67.3105660255, 35.9955387314), (-67.2665311616, 35.8001925341))
        make_face()
        with BuildLine():
            Line((-67.2665311616, 35.8001925341), (-67.3105660255, 35.9955387314))
            Line((-67.3105660255, 35.9955387314), (-77.4395824151, 32.0765253008))
            Line((-77.4395824151, 32.0765253008), (-73.0395936157, 22.1722545469))
            Line((-73.0395936157, 22.1722545469), (-72.8700817639, 22.2798380543))
            ThreePointArc((-72.8700817639, 22.2798380543), (-70.3936614112, 29.1748596076), (-67.2665311616, 35.8001925341))
        make_face()
        with BuildLine():
            Line((-67.3249434851, -35.9686403965), (-67.2811535328, -35.7727043889))
            ThreePointArc((-67.2811535328, -35.7727043889), (-70.4055764051, -29.1460942677), (-72.87917924, -22.2500614226))
            Line((-72.87917924, -22.2500614226), (-73.0484472116, -22.1430681527))
            Line((-73.0484472116, -22.1430681527), (-77.4395824151, -32.0765253008))
            Line((-77.4395824151, -32.0765253008), (-67.3249434851, -35.9686403965))
        make_face()
        with BuildLine():
            Line((-73.0484472116, -22.1430681527), (-72.87917924, -22.2500614226))
            ThreePointArc((-72.87917924, -22.2500614226), (-72.9233711228, -22.1047945949), (-72.9672734521, -21.9594399966))
            Line((-72.9672734521, -21.9594399966), (-73.0484472116, -22.1430681527))
        make_face()
        with BuildLine():
            ThreePointArc((-72.9582947168, 21.9892526478), (-72.9143329992, 22.1345892955), (-72.8700817639, 22.2798380543))
            Line((-72.8700817639, 22.2798380543), (-73.0395936157, 22.1722545469))
            Line((-73.0395936157, 22.1722545469), (-72.9582947168, 21.9892526478))
        make_face()
        with BuildLine():
            Line((-72.9582947168, 21.9892526478), (-73.0395936157, 22.1722545469))
            Line((-73.0395936157, 22.1722545469), (-82.2094222034, 16.3524707914))
            Line((-82.2094222034, 16.3524707914), (-75.9617505843, 7.4969030545))
            Line((-75.9617505843, 7.4969030545), (-75.8164843563, 7.6354894968))
            ThreePointArc((-75.8164843563, 7.6354894968), (-74.7327997014, 14.8811507884), (-72.9582947168, 21.9892526478))
        make_face()
        with BuildLine():
            Line((-73.0484472116, -22.1430681527), (-72.9672734521, -21.9594399966))
            ThreePointArc((-72.9672734521, -21.9594399966), (-74.7388739127, -14.8506136664), (-75.8195978942, -7.6045101852))
            Line((-75.8195978942, -7.6045101852), (-75.9647400778, -7.4665502179))
            Line((-75.9647400778, -7.4665502179), (-82.2094222034, -16.3524707914))
            Line((-82.2094222034, -16.3524707914), (-73.0484472116, -22.1430681527))
        make_face()
        with BuildLine():
            Line((-75.9647400778, -7.4665502179), (-75.8195978942, -7.6045101852))
            ThreePointArc((-75.8195978942, -7.6045101852), (-75.8346004903, -7.4534132101), (-75.8493019732, -7.3022866401))
            Line((-75.8493019732, -7.3022866401), (-75.9647400778, -7.4665502179))
        make_face()
        with BuildLine():
            ThreePointArc((-75.8463119216, 7.333278114), (-75.8315486894, 7.4843986644), (-75.8164843563, 7.6354894968))
            Line((-75.8164843563, 7.6354894968), (-75.9617505843, 7.4969030545))
            Line((-75.9617505843, 7.4969030545), (-75.8463119216, 7.333278114))
        make_face()
        with BuildLine():
            Line((-75.8463119216, 7.333278114), (-75.9617505843, 7.4969030545))
            Line((-75.9617505843, 7.4969030545), (-83.82, 0))
            Line((-83.82, 0), (-75.9647400778, -7.4665502179))
            Line((-75.9647400778, -7.4665502179), (-75.8493019732, -7.3022866401))
            ThreePointArc((-75.8493019732, -7.3022866401), (-76.1999984098, 0.0155676898), (-75.8463119216, 7.333278114))
        make_face()
    extrude(amount=F2_DEPTH)


solid = f1.part
